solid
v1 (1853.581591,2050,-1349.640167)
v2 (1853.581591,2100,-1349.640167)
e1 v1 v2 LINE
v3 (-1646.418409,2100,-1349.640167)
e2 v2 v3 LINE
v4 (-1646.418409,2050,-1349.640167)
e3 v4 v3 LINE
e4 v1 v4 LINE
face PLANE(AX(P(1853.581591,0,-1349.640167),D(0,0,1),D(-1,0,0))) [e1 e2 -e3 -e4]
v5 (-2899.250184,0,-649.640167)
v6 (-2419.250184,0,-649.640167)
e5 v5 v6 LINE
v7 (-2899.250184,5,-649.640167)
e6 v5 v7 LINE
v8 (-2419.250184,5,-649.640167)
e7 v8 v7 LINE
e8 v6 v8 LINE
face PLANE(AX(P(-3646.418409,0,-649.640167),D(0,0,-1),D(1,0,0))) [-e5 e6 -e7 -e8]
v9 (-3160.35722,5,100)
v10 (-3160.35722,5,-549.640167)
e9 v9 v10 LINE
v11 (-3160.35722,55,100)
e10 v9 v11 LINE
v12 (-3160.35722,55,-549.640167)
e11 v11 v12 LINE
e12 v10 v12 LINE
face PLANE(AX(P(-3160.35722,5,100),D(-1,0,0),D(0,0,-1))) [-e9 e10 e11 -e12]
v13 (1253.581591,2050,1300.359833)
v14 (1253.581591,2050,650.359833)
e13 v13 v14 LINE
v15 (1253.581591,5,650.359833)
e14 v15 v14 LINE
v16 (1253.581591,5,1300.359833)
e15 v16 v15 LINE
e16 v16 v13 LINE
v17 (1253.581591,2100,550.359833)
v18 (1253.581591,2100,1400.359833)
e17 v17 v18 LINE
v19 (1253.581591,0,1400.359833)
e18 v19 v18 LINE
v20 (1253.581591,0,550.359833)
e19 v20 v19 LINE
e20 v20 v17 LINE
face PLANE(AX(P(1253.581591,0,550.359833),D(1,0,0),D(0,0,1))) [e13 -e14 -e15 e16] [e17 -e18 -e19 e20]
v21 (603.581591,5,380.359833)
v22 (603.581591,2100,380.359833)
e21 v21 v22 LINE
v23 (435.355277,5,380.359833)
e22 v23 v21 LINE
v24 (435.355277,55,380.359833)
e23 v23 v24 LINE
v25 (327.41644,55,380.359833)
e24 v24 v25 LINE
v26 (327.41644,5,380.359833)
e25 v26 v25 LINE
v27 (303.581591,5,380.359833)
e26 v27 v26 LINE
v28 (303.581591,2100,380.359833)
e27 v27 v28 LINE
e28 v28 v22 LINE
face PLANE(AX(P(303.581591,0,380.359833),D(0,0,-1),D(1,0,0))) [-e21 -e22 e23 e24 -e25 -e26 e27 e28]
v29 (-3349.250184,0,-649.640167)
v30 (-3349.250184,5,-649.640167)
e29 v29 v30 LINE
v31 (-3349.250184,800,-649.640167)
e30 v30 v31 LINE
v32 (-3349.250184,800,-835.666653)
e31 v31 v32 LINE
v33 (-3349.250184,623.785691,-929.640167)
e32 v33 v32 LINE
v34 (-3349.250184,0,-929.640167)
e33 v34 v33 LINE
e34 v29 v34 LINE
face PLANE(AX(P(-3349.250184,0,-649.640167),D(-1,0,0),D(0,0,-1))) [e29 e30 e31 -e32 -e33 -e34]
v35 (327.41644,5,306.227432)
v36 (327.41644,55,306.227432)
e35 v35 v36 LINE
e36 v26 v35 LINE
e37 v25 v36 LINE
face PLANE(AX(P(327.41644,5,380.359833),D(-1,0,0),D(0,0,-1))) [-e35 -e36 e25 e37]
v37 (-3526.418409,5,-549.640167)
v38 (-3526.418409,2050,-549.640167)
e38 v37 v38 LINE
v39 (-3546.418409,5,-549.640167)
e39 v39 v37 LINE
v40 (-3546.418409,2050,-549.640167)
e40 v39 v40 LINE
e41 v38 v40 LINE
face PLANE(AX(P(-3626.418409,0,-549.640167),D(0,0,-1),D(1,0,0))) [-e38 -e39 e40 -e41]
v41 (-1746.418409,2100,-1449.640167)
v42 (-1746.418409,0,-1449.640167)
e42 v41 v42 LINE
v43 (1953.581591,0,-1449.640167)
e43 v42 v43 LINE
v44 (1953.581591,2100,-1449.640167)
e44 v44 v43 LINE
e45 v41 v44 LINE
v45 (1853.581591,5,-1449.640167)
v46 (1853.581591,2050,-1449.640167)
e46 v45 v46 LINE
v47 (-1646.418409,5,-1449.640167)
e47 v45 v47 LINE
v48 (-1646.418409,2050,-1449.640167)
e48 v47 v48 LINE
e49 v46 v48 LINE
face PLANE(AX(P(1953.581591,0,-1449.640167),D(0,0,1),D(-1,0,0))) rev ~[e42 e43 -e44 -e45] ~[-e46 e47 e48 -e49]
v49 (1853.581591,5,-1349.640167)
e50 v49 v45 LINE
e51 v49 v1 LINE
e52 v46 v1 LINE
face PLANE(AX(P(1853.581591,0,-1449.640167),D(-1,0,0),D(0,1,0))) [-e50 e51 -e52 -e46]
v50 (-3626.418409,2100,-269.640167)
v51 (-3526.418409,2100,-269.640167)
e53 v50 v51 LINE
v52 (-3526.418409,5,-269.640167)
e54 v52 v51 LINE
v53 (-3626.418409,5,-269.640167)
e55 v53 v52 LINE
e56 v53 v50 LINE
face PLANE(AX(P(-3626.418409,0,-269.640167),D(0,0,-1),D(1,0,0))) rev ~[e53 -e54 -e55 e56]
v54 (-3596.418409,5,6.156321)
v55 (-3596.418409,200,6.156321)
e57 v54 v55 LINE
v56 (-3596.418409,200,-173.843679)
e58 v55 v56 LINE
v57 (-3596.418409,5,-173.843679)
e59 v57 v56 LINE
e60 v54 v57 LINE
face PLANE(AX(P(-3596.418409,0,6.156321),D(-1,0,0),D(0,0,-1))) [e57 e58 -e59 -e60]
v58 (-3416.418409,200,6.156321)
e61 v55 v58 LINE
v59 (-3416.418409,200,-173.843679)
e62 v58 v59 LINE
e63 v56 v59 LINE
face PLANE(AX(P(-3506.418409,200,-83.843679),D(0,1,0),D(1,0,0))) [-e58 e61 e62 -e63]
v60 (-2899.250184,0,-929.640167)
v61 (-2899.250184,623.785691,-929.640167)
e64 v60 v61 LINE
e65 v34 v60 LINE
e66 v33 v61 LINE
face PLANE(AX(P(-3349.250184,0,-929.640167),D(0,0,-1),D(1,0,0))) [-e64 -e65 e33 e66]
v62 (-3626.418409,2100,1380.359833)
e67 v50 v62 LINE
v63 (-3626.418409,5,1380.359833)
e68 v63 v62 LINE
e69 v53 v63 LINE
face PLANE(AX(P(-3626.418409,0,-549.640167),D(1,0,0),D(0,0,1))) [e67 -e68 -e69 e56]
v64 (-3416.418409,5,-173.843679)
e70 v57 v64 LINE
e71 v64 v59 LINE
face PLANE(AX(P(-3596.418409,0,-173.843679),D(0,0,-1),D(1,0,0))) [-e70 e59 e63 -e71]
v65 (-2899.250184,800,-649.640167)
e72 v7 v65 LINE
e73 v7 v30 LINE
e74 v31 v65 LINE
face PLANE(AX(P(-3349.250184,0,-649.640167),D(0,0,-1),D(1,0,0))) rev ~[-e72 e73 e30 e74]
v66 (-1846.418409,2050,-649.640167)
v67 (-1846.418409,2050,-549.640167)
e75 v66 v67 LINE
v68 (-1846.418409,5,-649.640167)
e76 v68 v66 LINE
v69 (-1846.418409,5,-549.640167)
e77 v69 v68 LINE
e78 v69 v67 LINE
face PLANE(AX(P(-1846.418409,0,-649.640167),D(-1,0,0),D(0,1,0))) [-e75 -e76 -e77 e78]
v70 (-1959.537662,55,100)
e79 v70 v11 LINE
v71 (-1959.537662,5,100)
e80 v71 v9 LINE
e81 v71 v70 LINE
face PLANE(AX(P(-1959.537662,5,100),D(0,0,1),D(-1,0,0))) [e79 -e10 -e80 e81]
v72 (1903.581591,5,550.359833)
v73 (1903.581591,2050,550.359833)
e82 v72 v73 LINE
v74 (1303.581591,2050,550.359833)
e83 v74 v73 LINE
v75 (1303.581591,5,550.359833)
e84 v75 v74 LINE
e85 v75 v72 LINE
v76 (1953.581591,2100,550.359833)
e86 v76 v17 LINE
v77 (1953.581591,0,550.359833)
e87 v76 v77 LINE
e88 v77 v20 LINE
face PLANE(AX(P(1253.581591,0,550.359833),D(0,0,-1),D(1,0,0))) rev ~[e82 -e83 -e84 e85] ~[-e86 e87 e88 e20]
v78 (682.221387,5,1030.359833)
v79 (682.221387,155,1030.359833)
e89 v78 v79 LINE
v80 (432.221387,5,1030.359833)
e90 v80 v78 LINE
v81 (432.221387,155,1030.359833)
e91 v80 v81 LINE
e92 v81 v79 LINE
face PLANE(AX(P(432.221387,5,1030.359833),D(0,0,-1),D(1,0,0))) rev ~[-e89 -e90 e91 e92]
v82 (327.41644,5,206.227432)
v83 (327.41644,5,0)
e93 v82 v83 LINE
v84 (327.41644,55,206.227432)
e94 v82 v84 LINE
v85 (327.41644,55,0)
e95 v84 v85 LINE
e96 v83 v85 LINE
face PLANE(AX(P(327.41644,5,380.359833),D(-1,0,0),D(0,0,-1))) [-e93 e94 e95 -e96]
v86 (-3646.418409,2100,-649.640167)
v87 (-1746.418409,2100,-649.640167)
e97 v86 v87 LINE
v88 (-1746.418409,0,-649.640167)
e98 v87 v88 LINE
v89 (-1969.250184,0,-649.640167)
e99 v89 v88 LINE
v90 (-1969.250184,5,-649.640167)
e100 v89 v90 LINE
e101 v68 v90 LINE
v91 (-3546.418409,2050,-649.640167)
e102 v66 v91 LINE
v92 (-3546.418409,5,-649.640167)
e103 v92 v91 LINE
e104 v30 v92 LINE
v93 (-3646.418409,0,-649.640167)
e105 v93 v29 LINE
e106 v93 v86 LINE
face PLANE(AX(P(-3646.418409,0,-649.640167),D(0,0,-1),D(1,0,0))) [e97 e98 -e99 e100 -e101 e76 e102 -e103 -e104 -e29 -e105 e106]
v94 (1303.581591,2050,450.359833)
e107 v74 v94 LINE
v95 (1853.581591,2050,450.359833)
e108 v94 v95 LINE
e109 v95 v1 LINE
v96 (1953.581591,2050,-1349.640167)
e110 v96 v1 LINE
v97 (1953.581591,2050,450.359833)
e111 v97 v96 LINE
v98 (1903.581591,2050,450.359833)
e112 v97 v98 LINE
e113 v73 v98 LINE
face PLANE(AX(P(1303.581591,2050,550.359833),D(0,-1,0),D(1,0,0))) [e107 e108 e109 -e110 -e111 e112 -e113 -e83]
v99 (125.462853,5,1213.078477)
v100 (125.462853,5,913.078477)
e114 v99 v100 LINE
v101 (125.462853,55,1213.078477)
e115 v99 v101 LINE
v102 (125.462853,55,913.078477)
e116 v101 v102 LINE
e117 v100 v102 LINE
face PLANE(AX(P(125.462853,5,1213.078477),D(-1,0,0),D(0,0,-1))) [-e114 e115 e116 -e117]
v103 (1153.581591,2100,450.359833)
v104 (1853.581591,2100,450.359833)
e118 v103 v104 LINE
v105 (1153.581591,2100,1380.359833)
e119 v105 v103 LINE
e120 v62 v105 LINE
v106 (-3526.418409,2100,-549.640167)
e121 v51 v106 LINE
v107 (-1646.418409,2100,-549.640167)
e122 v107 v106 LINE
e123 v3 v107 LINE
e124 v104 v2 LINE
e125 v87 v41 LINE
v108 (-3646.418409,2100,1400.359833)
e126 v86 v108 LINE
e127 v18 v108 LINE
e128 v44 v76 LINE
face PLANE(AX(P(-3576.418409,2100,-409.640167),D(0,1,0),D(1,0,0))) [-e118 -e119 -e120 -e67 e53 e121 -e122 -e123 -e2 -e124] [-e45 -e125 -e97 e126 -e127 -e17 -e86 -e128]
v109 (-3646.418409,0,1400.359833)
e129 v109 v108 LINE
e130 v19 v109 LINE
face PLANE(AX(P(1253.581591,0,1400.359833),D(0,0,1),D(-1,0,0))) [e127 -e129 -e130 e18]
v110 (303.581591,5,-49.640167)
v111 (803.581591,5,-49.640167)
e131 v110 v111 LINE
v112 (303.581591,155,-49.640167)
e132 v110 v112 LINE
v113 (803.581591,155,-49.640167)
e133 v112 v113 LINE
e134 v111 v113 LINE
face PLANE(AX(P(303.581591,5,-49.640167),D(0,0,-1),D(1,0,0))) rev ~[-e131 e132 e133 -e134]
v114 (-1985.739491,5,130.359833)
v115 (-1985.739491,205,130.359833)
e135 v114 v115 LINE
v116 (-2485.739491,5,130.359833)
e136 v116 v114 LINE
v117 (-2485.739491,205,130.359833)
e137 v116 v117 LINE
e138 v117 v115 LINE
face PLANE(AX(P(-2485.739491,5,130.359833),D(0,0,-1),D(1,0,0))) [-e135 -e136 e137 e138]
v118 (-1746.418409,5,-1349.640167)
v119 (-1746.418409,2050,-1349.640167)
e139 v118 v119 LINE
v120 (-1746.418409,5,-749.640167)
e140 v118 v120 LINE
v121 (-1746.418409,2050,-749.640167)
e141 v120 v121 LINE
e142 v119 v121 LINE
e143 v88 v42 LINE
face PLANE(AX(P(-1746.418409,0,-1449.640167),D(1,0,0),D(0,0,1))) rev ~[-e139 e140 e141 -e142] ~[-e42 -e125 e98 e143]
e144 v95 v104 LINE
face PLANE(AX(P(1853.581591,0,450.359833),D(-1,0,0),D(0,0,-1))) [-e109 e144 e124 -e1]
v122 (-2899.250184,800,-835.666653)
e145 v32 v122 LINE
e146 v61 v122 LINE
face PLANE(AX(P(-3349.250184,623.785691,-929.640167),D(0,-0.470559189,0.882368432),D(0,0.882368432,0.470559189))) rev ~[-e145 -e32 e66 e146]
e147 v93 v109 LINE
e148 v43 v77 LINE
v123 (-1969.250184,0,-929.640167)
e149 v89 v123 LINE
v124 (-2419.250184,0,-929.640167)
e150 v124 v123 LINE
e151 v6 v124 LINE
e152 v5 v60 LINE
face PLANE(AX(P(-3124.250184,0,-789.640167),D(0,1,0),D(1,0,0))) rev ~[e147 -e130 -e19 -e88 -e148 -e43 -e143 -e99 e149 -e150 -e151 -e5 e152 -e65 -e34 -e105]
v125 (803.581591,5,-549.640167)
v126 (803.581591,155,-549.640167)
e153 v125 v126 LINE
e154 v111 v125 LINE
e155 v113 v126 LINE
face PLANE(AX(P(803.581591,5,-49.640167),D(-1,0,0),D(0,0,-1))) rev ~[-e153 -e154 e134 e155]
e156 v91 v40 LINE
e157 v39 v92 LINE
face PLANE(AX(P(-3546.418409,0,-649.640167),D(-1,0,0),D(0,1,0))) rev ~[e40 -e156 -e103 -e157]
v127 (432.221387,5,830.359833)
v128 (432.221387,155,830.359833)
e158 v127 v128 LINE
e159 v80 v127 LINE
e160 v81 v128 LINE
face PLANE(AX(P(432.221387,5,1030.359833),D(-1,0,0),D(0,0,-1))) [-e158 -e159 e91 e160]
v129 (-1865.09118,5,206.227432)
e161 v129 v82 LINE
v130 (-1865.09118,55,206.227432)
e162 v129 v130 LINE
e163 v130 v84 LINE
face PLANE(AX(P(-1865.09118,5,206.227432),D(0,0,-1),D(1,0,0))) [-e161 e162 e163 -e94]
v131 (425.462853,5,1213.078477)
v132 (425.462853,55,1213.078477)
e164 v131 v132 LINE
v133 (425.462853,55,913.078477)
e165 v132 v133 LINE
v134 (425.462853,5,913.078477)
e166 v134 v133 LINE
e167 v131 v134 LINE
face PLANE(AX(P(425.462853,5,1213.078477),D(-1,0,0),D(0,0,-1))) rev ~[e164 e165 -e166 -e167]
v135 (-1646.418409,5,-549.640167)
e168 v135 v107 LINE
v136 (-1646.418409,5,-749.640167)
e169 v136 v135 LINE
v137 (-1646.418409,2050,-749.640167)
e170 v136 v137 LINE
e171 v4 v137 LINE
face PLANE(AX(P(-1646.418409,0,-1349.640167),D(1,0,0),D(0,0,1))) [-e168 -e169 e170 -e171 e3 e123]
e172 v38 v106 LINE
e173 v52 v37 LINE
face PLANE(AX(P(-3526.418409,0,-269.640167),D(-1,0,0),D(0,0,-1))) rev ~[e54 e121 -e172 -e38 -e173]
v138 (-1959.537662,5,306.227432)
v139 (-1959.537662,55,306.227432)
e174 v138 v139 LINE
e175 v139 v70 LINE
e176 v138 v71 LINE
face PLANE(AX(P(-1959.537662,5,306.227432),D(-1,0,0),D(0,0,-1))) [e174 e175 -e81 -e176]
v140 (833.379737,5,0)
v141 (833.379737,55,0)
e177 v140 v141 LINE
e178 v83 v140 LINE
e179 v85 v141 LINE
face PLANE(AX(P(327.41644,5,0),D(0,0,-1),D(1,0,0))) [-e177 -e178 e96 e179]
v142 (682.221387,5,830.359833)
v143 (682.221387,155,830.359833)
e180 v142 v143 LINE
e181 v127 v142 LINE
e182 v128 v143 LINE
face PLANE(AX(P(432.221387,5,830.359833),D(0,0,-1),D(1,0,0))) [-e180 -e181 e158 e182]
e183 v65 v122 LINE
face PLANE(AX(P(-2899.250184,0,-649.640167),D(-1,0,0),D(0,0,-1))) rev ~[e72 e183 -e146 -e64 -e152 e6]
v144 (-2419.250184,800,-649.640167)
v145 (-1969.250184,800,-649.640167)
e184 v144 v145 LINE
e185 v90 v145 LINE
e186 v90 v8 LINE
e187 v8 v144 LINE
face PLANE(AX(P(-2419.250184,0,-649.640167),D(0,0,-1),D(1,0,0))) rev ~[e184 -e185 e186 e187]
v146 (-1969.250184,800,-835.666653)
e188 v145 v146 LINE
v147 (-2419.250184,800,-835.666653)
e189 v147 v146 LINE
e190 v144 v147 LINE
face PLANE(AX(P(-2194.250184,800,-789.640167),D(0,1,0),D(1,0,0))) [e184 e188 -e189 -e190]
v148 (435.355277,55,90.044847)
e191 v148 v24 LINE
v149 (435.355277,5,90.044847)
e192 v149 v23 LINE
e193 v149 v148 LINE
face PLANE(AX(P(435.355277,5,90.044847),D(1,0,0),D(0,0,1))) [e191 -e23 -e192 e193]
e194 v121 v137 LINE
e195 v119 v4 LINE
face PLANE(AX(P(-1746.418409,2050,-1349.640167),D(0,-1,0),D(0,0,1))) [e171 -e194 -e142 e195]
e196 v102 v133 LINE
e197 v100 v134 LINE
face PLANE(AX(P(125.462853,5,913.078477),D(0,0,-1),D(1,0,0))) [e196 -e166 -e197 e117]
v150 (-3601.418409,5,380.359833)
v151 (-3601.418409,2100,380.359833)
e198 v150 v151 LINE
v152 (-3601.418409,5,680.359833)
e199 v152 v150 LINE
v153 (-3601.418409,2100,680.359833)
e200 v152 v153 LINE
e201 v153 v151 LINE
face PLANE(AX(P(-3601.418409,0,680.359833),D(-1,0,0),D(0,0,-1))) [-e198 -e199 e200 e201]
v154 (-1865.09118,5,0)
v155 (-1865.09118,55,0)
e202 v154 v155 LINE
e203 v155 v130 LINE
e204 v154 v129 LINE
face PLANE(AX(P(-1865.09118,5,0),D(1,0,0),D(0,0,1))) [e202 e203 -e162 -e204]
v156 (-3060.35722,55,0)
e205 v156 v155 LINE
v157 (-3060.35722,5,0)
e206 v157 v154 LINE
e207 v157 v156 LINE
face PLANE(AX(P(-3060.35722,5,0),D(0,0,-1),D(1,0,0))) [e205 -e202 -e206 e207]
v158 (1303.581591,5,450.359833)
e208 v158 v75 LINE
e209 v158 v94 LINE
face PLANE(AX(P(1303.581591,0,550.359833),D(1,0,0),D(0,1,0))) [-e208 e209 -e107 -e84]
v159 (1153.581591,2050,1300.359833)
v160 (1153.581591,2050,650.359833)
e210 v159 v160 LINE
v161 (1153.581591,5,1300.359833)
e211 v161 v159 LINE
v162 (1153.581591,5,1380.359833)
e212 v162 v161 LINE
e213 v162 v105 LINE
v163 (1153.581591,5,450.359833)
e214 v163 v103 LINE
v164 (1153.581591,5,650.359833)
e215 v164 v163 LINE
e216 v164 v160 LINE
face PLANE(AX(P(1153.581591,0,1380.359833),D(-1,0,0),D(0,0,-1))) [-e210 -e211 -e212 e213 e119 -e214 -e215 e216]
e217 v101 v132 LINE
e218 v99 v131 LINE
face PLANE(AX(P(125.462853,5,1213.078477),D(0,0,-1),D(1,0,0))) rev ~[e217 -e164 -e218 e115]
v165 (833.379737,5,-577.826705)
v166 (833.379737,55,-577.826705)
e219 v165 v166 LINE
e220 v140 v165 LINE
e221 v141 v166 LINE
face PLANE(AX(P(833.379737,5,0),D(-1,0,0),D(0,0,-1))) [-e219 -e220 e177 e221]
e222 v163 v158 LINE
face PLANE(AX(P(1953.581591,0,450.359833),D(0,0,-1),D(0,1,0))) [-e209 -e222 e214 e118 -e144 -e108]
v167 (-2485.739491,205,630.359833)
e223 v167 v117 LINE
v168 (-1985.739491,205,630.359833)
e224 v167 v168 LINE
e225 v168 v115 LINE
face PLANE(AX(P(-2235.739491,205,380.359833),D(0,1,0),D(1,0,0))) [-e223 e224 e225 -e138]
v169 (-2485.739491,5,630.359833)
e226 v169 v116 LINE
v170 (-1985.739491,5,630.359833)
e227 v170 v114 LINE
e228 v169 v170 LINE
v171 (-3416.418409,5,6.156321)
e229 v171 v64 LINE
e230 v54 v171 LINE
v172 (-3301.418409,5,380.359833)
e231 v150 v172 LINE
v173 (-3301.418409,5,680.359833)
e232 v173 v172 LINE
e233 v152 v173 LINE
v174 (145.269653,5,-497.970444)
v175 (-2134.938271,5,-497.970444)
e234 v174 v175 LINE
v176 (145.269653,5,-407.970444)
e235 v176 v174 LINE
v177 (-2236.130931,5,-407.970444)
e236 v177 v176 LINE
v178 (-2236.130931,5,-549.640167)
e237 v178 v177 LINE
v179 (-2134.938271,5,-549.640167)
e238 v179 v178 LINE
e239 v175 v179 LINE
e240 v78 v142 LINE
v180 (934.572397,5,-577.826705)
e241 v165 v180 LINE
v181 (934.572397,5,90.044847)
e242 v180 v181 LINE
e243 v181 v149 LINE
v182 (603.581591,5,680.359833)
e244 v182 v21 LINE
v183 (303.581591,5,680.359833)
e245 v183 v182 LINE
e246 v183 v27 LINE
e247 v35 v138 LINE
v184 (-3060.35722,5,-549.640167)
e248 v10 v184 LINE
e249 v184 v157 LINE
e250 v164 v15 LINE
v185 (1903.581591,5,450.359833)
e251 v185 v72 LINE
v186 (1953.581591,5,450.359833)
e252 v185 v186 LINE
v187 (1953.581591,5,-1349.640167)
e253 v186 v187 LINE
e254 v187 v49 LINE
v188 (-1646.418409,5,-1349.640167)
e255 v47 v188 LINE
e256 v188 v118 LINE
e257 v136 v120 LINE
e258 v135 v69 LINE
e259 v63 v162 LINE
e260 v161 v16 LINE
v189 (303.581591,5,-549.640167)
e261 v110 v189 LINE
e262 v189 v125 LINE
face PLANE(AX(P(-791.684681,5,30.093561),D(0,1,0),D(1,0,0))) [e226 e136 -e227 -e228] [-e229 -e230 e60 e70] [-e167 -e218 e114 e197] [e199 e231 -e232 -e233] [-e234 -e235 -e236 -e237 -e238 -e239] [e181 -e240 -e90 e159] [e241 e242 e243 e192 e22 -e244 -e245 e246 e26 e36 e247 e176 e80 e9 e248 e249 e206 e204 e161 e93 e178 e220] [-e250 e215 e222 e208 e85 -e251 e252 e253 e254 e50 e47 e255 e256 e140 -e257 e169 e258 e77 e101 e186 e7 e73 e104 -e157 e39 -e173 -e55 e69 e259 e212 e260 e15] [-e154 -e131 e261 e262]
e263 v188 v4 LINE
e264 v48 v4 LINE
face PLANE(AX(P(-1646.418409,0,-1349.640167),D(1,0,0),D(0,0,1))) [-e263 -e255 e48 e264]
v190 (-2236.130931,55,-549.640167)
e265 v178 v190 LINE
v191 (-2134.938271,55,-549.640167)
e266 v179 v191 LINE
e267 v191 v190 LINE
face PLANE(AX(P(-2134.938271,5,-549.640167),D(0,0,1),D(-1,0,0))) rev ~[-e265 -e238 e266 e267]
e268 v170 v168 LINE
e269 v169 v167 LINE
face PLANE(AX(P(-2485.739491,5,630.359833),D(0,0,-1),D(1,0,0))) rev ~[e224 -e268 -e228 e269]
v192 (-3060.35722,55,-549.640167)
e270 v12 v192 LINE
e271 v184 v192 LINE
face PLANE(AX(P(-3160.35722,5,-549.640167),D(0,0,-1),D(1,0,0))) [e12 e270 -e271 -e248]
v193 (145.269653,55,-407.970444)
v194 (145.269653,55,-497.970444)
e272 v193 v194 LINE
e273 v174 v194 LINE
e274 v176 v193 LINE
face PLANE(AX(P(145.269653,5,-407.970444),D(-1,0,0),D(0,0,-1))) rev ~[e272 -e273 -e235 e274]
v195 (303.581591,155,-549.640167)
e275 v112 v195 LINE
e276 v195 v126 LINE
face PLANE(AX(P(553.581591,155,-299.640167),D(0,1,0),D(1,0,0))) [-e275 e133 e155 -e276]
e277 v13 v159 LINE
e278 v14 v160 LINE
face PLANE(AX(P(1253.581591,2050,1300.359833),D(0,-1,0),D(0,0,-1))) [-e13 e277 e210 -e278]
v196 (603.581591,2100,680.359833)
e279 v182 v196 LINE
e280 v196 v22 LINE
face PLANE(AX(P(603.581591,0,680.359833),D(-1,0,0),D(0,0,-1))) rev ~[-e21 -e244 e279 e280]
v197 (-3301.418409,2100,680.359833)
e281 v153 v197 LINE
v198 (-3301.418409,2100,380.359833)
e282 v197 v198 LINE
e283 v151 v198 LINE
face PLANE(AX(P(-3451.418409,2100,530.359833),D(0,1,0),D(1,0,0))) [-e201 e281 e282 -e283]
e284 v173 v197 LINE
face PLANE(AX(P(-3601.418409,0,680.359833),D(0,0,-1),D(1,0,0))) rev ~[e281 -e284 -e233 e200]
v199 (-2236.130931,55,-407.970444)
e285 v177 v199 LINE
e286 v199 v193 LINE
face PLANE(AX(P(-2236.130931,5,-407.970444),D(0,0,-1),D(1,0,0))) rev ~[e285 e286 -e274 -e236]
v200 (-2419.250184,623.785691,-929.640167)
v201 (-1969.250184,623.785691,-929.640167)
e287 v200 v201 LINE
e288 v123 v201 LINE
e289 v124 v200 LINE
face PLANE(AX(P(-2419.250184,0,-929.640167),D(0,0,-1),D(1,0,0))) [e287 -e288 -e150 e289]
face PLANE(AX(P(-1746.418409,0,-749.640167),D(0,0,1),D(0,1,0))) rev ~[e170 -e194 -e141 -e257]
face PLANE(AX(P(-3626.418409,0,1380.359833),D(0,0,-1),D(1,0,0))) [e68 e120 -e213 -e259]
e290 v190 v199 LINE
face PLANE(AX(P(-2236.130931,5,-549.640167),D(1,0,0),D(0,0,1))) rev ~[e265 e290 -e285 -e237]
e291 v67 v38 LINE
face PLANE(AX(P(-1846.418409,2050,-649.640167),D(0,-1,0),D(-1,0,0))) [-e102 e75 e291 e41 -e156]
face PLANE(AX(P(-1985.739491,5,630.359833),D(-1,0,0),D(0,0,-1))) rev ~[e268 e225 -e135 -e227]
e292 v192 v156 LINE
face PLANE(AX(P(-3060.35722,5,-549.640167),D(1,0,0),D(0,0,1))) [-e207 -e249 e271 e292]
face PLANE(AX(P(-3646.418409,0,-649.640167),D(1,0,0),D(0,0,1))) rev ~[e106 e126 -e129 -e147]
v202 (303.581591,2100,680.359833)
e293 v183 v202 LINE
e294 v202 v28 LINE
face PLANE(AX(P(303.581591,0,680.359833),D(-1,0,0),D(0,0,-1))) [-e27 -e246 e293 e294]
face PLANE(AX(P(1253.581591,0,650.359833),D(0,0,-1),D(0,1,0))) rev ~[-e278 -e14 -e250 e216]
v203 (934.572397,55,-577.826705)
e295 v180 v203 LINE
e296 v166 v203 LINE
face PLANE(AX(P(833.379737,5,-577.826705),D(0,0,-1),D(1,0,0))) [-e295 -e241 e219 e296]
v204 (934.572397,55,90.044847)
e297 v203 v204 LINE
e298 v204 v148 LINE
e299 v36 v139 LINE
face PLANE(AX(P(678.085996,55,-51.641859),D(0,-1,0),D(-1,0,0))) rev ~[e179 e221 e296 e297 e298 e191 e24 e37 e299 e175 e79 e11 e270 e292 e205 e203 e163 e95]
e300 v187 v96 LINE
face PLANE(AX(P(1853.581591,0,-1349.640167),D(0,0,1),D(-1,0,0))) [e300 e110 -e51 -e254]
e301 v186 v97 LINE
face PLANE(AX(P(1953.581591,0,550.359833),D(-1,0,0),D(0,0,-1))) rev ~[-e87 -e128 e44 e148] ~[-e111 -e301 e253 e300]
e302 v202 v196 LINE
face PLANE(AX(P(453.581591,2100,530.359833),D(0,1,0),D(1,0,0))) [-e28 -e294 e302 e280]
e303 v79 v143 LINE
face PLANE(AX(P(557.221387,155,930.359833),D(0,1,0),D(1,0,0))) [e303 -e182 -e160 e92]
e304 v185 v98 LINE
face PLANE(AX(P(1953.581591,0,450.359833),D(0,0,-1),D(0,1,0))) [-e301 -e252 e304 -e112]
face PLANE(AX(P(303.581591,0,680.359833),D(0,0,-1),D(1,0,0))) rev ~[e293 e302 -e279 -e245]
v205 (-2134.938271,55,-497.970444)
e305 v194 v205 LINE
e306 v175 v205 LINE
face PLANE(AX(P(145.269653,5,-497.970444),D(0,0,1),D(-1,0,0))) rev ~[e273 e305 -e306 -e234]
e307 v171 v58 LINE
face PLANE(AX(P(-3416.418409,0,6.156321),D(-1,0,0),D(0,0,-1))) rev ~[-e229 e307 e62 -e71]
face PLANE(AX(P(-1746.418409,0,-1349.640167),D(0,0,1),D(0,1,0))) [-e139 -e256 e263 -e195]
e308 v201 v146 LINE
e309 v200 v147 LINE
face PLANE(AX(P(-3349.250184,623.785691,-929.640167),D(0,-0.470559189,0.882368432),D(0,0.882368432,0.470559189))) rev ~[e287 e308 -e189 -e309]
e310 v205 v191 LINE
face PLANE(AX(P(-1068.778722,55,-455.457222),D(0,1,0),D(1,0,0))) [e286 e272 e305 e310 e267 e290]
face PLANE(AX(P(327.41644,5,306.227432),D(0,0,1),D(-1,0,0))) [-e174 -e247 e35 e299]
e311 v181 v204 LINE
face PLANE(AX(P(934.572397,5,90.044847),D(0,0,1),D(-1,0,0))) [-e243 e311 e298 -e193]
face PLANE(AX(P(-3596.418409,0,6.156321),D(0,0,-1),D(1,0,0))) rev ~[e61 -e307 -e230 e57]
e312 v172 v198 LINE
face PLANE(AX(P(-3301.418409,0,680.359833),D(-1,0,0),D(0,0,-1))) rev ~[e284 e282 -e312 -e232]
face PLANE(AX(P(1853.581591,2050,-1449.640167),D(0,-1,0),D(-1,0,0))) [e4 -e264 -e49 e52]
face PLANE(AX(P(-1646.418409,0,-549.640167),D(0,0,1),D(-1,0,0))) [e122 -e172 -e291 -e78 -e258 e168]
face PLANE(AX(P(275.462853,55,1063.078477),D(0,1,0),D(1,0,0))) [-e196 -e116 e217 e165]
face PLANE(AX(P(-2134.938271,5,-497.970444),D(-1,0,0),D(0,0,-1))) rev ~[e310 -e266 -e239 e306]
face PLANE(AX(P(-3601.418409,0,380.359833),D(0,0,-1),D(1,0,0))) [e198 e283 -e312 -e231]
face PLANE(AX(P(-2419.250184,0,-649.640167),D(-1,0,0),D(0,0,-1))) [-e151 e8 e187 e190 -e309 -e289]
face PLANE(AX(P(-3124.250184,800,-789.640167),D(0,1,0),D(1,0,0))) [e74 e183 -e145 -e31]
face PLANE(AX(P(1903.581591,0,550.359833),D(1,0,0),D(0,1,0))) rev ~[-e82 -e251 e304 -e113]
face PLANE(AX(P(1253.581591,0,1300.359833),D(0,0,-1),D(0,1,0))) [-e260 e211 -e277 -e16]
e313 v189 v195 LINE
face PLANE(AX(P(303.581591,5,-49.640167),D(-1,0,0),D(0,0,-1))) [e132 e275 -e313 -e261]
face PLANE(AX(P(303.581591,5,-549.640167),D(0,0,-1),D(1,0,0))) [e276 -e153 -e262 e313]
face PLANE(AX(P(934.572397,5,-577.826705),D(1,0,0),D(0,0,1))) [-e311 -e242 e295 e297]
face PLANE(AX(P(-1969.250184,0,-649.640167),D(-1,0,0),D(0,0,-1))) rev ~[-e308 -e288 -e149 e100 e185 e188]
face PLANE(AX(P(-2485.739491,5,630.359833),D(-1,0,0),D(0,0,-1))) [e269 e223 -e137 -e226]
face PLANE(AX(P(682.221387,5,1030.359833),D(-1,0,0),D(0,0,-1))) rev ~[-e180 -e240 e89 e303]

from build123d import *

# Parameters (mm, degrees)
SALIENTE_EXTRUIR1_DEPTH   = 2100
CROQUIS1_W                = 300
CROQUIS1_H                = 300
SALIENTE_EXTRUIR1_2_DEPTH = 2100
CROQUIS3_W                = 300
CROQUIS3_H                = 300
SALIENTE_EXTRUIR2_DEPTH   = 2100
CROQUIS3_W_2              = 100
CROQUIS3_H_2              = 280
SALIENTE_EXTRUIR2_2_DEPTH = 2100
CROQUIS4_W                = 180
CROQUIS4_H                = 180
SALIENTE_EXTRUIR3_DEPTH   = 200
CROQUIS6_W                = 1800
CROQUIS6_H                = 2050
CORTAR_EXTRUIR1_DEPTH     = 100
CROQUIS7_W                = 600
CROQUIS7_H                = 2050
CORTAR_EXTRUIR2_DEPTH     = 100
CROQUIS8_W                = 3500
CROQUIS8_H                = 2050
CORTAR_EXTRUIR3_DEPTH     = 100
CROQUIS9_W                = 650
CROQUIS9_H                = 2050
CORTAR_EXTRUIR4_DEPTH     = 100
CROQUIS10_W               = 600
CROQUIS10_H               = 2050
CORTAR_EXTRUIR5_DEPTH     = 100
CROQUIS11_W               = 1700
CROQUIS11_H               = 2050
CORTAR_EXTRUIR6_DEPTH     = 100
SALIENTE_EXTRUIR5_DEPTH   = 5
CROQUIS13_W               = 500
CROQUIS13_H               = 500
SALIENTE_EXTRUIR6_DEPTH   = 150
CROQUIS14_W               = 500
CROQUIS14_H               = 500
SALIENTE_EXTRUIR7_DEPTH   = 200
CROQUIS15_W               = 450
CROQUIS15_H               = 280
SALIENTE_EXTRUIR8_DEPTH   = 800
CORTAR_EXTRUIR7_REACH     = 5886.852
SALIENTE_EXTRUIR11_DEPTH  = 50
SALIENTE_EXTRUIR12_DEPTH  = 50
SALIENTE_EXTRUIR13_DEPTH  = 50
CROQUIS22_W               = 250
CROQUIS22_H               = 200
SALIENTE_EXTRUIR14_DEPTH  = 150
CROQUIS23_W               = 300
CROQUIS23_H               = 300
SALIENTE_EXTRUIR15_DEPTH  = 50


with BuildPart() as part:
    # Croquis1 → Saliente-Extruir1 (new body)
    with BuildSketch(Plane(origin=(0, 0, 0), x_dir=(1, 0, 0), z_dir=(0, 1, 0))):
        Polygon((1253.581591405, -550.359833019), (1253.581591405, -1400.359833019), (-3646.418408595, -1400.359833019), (-3646.418408595, -250.359833019), (-3646.418408595, 649.640166981), (-1746.418408595, 649.640166981), (-1746.418408595, 1449.640166981), (1953.581591405, 1449.640166981), (1953.581591405, -550.359833019), align=None)
        Polygon((-1646.418408595, 549.640166981), (-3626.418408595, 549.640166981), (-3626.418408595, -1380.359833019), (1153.581591405, -1380.359833019), (1153.581591405, -450.359833019), (1853.581591405, -450.359833019), (1853.581591405, 1349.640166981), (-1646.418408595, 1349.640166981), align=None, mode=Mode.SUBTRACT)
    extrude(amount=SALIENTE_EXTRUIR1_DEPTH)

    # Croquis6 → Cortar-Extruir1 (cut)
    with BuildSketch(Plane(origin=(1953.581591405, 0, 0), x_dir=(0, 0, -1), z_dir=(1, 0, 0))):
        with Locations((449.640166981, 1025)):
            Rectangle(CROQUIS6_W, CROQUIS6_H)
    extrude(amount=-CORTAR_EXTRUIR1_DEPTH, mode=Mode.SUBTRACT)

    # Croquis7 → Cortar-Extruir2 (cut)
    with BuildSketch(Plane.XY.offset(550.359833019)):
        with Locations((1603.581591405, 1025)):
            Rectangle(CROQUIS7_W, CROQUIS7_H)
    extrude(amount=-CORTAR_EXTRUIR2_DEPTH, mode=Mode.SUBTRACT)

    # Croquis8 → Cortar-Extruir3 (cut)
    with BuildSketch(Plane(origin=(0, 0, -1449.640166981), x_dir=(-1, 0, 0), z_dir=(0, 0, -1))):
        with Locations((-103.581591405, 1025)):
            Rectangle(CROQUIS8_W, CROQUIS8_H)
    extrude(amount=-CORTAR_EXTRUIR3_DEPTH, mode=Mode.SUBTRACT)

    # Croquis9 → Cortar-Extruir4 (cut)
    with BuildSketch(Plane(origin=(1253.581591405, 0, 0), x_dir=(0, 0, -1), z_dir=(1, 0, 0))):
        with Locations((-975.359833019, 1025)):
            Rectangle(CROQUIS9_W, CROQUIS9_H)
    extrude(amount=-CORTAR_EXTRUIR4_DEPTH, mode=Mode.SUBTRACT)

    # Croquis10 → Cortar-Extruir5 (cut)
    with BuildSketch(Plane.ZY.offset(1746.418408595)):
        with Locations((-1049.640166981, 1025)):
            Rectangle(CROQUIS10_W, CROQUIS10_H)
    extrude(amount=-CORTAR_EXTRUIR5_DEPTH, mode=Mode.SUBTRACT)

    # Croquis11 → Cortar-Extruir6 (cut)
    with BuildSketch(Plane(origin=(0, 0, -649.640166981), x_dir=(-1, 0, 0), z_dir=(0, 0, -1))):
        with Locations((2696.418408595, 1025)):
            Rectangle(CROQUIS11_W, CROQUIS11_H)
    extrude(amount=-CORTAR_EXTRUIR6_DEPTH, mode=Mode.SUBTRACT)



with BuildPart() as body_2:
    # Croquis1 → Saliente-Extruir1 2 (new body)
    with BuildSketch(Plane(origin=(0, 0, 0), x_dir=(1, 0, 0), z_dir=(0, 1, 0))):
        with Locations((453.581591405, -530.359833019)):
            Rectangle(CROQUIS1_W, CROQUIS1_H)
    extrude(amount=SALIENTE_EXTRUIR1_2_DEPTH)


with BuildPart() as body_3:
    # Croquis3 → Saliente-Extruir2 (new body)
    with BuildSketch(Plane(origin=(0, 0, 0), x_dir=(1, 0, 0), z_dir=(0, 1, 0))):
        with Locations((-3451.418408595, -530.359833019)):
            Rectangle(CROQUIS3_W, CROQUIS3_H)
    extrude(amount=SALIENTE_EXTRUIR2_DEPTH)


with BuildPart() as body_4:
    # Croquis3 → Saliente-Extruir2 2 (new body)
    with BuildSketch(Plane(origin=(0, 0, 0), x_dir=(1, 0, 0), z_dir=(0, 1, 0))):
        with Locations((-3576.418408595, 409.640166981)):
            Rectangle(CROQUIS3_W_2, CROQUIS3_H_2)
    extrude(amount=SALIENTE_EXTRUIR2_2_DEPTH)


with BuildPart() as body_5:
    # Croquis4 → Saliente-Extruir3 (new body)
    with BuildSketch(Plane(origin=(0, 0, 0), x_dir=(1, 0, 0), z_dir=(0, 1, 0))):
        with Locations((-3506.418408595, 83.843678965)):
            Rectangle(CROQUIS4_W, CROQUIS4_H)
    extrude(amount=SALIENTE_EXTRUIR3_DEPTH)


with BuildPart() as part_1:
    add(part.part)

    add(body_2.part)  # Saliente-Extruir5 merges body 2

    add(body_3.part)  # Saliente-Extruir5 merges body 3

    add(body_4.part)  # Saliente-Extruir5 merges body 4

    add(body_5.part)  # Saliente-Extruir5 merges body 5
    # Croquis12 → Saliente-Extruir5 (add)
    with BuildSketch(Plane(origin=(0, 0, 0), x_dir=(1, 0, 0), z_dir=(0, 1, 0))):
        Polygon((-3646.418408595, 649.640166981), (-3646.418408595, -1400.359833019), (1253.581591405, -1400.359833019), (1253.581591405, -550.359833019), (1953.581591405, -550.359833019), (1953.581591405, 1449.640166981), (-1746.418408595, 1449.640166981), (-1746.418408595, 649.640166981), align=None)
    extrude(amount=SALIENTE_EXTRUIR5_DEPTH)

    # Croquis13 → Saliente-Extruir6 (add)
    with BuildSketch(Plane(origin=(0, 5, 0), x_dir=(1, 0, 0), z_dir=(0, 1, 0))):
        with Locations((553.581591405, 299.640166981)):
            Rectangle(CROQUIS13_W, CROQUIS13_H)
    extrude(amount=SALIENTE_EXTRUIR6_DEPTH)

    # Croquis14 → Saliente-Extruir7 (add)
    with BuildSketch(Plane(origin=(0, 5, 0), x_dir=(1, 0, 0), z_dir=(0, 1, 0))):
        with Locations((-2235.739490602, -380.359833019)):
            Rectangle(CROQUIS14_W, CROQUIS14_H)
    extrude(amount=SALIENTE_EXTRUIR7_DEPTH)

    # Croquis15 → Saliente-Extruir8 (add)
    with BuildSketch(Plane(origin=(0, 0, 0), x_dir=(1, 0, 0), z_dir=(0, 1, 0))):
        with Locations((-3124.250184005, 789.640166981)):
            Rectangle(CROQUIS15_W, CROQUIS15_H)
        with Locations((-2194.250184005, 789.640166981)):
            Rectangle(CROQUIS15_W, CROQUIS15_H)
    extrude(amount=SALIENTE_EXTRUIR8_DEPTH)

    # Cortar-Extruir7: up to this face of the body (flat: up to its plane)
    cortar_extruir7_end = Plane(part_1.part.faces().sort_by_distance((-1969.250184005, 400, -789.640166981))[0])
    # Croquis16 → Cortar-Extruir7 (cut, up to the picked face)
    with BuildSketch(Plane.ZY.offset(3349.250184005), mode=Mode.PRIVATE) as cortar_extruir7_sk1:
        Polygon((-929.640166981, 623.785690967), (-835.666652808, 800), (-929.640166981, 800), align=None)
    cortar_extruir7_tool1 = split(extrude(cortar_extruir7_sk1.sketch, amount=-CORTAR_EXTRUIR7_REACH, mode=Mode.PRIVATE), bisect_by=cortar_extruir7_end, keep=Keep.BOTH, mode=Mode.PRIVATE)
    add(cortar_extruir7_tool1.solids().sort_by(Axis((-3349.250184, 741.261897, -898.315662), (1, 0, 0)))[0], mode=Mode.SUBTRACT)

    # Croquis19 → Saliente-Extruir11 (add)
    with BuildSketch(Plane(origin=(0, 5, 0), x_dir=(1, 0, 0), z_dir=(0, 1, 0))):
        Polygon((327.416440249, -380.359833019), (327.416440249, 0), (833.379737165, 0), (833.379737165, 577.826704942), (934.572396548, 577.826704942), (934.572396548, -90.044846986), (435.355276925, -90.044846986), (435.355276925, -380.359833019), align=None)
    extrude(amount=SALIENTE_EXTRUIR11_DEPTH)

    # Croquis20 → Saliente-Extruir12 (add)
    with BuildSketch(Plane(origin=(0, 5, 0), x_dir=(1, 0, 0), z_dir=(0, 1, 0))):
        Polygon((-2236.13093079, 549.640166981), (-2236.13093079, 407.970443845), (145.26965336, 407.970443845), (145.26965336, 497.970443845), (-2134.938271407, 497.970443845), (-2134.938271407, 549.640166981), align=None)
    extrude(amount=SALIENTE_EXTRUIR12_DEPTH)

    # Croquis21 → Saliente-Extruir13 (add)
    with BuildSketch(Plane(origin=(0, 5, 0), x_dir=(1, 0, 0), z_dir=(0, 1, 0))):
        Polygon((327.416440249, -306.227432097), (-1959.53766181, -306.227432097), (-1959.53766181, -100), (-3160.357219823, -100), (-3160.357219823, 549.640166981), (-3060.357219823, 549.640166981), (-3060.357219823, 0), (-1865.091179719, 0), (-1865.091179719, -206.227432097), (327.416440249, -206.227432097), align=None)
    extrude(amount=SALIENTE_EXTRUIR13_DEPTH)

    # Croquis22 → Saliente-Extruir14 (add)
    with BuildSketch(Plane(origin=(0, 5, 0), x_dir=(1, 0, 0), z_dir=(0, 1, 0))):
        with Locations((557.221387347, -930.359833019)):
            Rectangle(CROQUIS22_W, CROQUIS22_H)
    extrude(amount=SALIENTE_EXTRUIR14_DEPTH)

    # Croquis23 → Saliente-Extruir15 (add)
    with BuildSketch(Plane(origin=(0, 5, 0), x_dir=(1, 0, 0), z_dir=(0, 1, 0))):
        with Locations((275.462852563, -1063.078476636)):
            Rectangle(CROQUIS23_W, CROQUIS23_H)
    extrude(amount=SALIENTE_EXTRUIR15_DEPTH)


solid = part_1.part
